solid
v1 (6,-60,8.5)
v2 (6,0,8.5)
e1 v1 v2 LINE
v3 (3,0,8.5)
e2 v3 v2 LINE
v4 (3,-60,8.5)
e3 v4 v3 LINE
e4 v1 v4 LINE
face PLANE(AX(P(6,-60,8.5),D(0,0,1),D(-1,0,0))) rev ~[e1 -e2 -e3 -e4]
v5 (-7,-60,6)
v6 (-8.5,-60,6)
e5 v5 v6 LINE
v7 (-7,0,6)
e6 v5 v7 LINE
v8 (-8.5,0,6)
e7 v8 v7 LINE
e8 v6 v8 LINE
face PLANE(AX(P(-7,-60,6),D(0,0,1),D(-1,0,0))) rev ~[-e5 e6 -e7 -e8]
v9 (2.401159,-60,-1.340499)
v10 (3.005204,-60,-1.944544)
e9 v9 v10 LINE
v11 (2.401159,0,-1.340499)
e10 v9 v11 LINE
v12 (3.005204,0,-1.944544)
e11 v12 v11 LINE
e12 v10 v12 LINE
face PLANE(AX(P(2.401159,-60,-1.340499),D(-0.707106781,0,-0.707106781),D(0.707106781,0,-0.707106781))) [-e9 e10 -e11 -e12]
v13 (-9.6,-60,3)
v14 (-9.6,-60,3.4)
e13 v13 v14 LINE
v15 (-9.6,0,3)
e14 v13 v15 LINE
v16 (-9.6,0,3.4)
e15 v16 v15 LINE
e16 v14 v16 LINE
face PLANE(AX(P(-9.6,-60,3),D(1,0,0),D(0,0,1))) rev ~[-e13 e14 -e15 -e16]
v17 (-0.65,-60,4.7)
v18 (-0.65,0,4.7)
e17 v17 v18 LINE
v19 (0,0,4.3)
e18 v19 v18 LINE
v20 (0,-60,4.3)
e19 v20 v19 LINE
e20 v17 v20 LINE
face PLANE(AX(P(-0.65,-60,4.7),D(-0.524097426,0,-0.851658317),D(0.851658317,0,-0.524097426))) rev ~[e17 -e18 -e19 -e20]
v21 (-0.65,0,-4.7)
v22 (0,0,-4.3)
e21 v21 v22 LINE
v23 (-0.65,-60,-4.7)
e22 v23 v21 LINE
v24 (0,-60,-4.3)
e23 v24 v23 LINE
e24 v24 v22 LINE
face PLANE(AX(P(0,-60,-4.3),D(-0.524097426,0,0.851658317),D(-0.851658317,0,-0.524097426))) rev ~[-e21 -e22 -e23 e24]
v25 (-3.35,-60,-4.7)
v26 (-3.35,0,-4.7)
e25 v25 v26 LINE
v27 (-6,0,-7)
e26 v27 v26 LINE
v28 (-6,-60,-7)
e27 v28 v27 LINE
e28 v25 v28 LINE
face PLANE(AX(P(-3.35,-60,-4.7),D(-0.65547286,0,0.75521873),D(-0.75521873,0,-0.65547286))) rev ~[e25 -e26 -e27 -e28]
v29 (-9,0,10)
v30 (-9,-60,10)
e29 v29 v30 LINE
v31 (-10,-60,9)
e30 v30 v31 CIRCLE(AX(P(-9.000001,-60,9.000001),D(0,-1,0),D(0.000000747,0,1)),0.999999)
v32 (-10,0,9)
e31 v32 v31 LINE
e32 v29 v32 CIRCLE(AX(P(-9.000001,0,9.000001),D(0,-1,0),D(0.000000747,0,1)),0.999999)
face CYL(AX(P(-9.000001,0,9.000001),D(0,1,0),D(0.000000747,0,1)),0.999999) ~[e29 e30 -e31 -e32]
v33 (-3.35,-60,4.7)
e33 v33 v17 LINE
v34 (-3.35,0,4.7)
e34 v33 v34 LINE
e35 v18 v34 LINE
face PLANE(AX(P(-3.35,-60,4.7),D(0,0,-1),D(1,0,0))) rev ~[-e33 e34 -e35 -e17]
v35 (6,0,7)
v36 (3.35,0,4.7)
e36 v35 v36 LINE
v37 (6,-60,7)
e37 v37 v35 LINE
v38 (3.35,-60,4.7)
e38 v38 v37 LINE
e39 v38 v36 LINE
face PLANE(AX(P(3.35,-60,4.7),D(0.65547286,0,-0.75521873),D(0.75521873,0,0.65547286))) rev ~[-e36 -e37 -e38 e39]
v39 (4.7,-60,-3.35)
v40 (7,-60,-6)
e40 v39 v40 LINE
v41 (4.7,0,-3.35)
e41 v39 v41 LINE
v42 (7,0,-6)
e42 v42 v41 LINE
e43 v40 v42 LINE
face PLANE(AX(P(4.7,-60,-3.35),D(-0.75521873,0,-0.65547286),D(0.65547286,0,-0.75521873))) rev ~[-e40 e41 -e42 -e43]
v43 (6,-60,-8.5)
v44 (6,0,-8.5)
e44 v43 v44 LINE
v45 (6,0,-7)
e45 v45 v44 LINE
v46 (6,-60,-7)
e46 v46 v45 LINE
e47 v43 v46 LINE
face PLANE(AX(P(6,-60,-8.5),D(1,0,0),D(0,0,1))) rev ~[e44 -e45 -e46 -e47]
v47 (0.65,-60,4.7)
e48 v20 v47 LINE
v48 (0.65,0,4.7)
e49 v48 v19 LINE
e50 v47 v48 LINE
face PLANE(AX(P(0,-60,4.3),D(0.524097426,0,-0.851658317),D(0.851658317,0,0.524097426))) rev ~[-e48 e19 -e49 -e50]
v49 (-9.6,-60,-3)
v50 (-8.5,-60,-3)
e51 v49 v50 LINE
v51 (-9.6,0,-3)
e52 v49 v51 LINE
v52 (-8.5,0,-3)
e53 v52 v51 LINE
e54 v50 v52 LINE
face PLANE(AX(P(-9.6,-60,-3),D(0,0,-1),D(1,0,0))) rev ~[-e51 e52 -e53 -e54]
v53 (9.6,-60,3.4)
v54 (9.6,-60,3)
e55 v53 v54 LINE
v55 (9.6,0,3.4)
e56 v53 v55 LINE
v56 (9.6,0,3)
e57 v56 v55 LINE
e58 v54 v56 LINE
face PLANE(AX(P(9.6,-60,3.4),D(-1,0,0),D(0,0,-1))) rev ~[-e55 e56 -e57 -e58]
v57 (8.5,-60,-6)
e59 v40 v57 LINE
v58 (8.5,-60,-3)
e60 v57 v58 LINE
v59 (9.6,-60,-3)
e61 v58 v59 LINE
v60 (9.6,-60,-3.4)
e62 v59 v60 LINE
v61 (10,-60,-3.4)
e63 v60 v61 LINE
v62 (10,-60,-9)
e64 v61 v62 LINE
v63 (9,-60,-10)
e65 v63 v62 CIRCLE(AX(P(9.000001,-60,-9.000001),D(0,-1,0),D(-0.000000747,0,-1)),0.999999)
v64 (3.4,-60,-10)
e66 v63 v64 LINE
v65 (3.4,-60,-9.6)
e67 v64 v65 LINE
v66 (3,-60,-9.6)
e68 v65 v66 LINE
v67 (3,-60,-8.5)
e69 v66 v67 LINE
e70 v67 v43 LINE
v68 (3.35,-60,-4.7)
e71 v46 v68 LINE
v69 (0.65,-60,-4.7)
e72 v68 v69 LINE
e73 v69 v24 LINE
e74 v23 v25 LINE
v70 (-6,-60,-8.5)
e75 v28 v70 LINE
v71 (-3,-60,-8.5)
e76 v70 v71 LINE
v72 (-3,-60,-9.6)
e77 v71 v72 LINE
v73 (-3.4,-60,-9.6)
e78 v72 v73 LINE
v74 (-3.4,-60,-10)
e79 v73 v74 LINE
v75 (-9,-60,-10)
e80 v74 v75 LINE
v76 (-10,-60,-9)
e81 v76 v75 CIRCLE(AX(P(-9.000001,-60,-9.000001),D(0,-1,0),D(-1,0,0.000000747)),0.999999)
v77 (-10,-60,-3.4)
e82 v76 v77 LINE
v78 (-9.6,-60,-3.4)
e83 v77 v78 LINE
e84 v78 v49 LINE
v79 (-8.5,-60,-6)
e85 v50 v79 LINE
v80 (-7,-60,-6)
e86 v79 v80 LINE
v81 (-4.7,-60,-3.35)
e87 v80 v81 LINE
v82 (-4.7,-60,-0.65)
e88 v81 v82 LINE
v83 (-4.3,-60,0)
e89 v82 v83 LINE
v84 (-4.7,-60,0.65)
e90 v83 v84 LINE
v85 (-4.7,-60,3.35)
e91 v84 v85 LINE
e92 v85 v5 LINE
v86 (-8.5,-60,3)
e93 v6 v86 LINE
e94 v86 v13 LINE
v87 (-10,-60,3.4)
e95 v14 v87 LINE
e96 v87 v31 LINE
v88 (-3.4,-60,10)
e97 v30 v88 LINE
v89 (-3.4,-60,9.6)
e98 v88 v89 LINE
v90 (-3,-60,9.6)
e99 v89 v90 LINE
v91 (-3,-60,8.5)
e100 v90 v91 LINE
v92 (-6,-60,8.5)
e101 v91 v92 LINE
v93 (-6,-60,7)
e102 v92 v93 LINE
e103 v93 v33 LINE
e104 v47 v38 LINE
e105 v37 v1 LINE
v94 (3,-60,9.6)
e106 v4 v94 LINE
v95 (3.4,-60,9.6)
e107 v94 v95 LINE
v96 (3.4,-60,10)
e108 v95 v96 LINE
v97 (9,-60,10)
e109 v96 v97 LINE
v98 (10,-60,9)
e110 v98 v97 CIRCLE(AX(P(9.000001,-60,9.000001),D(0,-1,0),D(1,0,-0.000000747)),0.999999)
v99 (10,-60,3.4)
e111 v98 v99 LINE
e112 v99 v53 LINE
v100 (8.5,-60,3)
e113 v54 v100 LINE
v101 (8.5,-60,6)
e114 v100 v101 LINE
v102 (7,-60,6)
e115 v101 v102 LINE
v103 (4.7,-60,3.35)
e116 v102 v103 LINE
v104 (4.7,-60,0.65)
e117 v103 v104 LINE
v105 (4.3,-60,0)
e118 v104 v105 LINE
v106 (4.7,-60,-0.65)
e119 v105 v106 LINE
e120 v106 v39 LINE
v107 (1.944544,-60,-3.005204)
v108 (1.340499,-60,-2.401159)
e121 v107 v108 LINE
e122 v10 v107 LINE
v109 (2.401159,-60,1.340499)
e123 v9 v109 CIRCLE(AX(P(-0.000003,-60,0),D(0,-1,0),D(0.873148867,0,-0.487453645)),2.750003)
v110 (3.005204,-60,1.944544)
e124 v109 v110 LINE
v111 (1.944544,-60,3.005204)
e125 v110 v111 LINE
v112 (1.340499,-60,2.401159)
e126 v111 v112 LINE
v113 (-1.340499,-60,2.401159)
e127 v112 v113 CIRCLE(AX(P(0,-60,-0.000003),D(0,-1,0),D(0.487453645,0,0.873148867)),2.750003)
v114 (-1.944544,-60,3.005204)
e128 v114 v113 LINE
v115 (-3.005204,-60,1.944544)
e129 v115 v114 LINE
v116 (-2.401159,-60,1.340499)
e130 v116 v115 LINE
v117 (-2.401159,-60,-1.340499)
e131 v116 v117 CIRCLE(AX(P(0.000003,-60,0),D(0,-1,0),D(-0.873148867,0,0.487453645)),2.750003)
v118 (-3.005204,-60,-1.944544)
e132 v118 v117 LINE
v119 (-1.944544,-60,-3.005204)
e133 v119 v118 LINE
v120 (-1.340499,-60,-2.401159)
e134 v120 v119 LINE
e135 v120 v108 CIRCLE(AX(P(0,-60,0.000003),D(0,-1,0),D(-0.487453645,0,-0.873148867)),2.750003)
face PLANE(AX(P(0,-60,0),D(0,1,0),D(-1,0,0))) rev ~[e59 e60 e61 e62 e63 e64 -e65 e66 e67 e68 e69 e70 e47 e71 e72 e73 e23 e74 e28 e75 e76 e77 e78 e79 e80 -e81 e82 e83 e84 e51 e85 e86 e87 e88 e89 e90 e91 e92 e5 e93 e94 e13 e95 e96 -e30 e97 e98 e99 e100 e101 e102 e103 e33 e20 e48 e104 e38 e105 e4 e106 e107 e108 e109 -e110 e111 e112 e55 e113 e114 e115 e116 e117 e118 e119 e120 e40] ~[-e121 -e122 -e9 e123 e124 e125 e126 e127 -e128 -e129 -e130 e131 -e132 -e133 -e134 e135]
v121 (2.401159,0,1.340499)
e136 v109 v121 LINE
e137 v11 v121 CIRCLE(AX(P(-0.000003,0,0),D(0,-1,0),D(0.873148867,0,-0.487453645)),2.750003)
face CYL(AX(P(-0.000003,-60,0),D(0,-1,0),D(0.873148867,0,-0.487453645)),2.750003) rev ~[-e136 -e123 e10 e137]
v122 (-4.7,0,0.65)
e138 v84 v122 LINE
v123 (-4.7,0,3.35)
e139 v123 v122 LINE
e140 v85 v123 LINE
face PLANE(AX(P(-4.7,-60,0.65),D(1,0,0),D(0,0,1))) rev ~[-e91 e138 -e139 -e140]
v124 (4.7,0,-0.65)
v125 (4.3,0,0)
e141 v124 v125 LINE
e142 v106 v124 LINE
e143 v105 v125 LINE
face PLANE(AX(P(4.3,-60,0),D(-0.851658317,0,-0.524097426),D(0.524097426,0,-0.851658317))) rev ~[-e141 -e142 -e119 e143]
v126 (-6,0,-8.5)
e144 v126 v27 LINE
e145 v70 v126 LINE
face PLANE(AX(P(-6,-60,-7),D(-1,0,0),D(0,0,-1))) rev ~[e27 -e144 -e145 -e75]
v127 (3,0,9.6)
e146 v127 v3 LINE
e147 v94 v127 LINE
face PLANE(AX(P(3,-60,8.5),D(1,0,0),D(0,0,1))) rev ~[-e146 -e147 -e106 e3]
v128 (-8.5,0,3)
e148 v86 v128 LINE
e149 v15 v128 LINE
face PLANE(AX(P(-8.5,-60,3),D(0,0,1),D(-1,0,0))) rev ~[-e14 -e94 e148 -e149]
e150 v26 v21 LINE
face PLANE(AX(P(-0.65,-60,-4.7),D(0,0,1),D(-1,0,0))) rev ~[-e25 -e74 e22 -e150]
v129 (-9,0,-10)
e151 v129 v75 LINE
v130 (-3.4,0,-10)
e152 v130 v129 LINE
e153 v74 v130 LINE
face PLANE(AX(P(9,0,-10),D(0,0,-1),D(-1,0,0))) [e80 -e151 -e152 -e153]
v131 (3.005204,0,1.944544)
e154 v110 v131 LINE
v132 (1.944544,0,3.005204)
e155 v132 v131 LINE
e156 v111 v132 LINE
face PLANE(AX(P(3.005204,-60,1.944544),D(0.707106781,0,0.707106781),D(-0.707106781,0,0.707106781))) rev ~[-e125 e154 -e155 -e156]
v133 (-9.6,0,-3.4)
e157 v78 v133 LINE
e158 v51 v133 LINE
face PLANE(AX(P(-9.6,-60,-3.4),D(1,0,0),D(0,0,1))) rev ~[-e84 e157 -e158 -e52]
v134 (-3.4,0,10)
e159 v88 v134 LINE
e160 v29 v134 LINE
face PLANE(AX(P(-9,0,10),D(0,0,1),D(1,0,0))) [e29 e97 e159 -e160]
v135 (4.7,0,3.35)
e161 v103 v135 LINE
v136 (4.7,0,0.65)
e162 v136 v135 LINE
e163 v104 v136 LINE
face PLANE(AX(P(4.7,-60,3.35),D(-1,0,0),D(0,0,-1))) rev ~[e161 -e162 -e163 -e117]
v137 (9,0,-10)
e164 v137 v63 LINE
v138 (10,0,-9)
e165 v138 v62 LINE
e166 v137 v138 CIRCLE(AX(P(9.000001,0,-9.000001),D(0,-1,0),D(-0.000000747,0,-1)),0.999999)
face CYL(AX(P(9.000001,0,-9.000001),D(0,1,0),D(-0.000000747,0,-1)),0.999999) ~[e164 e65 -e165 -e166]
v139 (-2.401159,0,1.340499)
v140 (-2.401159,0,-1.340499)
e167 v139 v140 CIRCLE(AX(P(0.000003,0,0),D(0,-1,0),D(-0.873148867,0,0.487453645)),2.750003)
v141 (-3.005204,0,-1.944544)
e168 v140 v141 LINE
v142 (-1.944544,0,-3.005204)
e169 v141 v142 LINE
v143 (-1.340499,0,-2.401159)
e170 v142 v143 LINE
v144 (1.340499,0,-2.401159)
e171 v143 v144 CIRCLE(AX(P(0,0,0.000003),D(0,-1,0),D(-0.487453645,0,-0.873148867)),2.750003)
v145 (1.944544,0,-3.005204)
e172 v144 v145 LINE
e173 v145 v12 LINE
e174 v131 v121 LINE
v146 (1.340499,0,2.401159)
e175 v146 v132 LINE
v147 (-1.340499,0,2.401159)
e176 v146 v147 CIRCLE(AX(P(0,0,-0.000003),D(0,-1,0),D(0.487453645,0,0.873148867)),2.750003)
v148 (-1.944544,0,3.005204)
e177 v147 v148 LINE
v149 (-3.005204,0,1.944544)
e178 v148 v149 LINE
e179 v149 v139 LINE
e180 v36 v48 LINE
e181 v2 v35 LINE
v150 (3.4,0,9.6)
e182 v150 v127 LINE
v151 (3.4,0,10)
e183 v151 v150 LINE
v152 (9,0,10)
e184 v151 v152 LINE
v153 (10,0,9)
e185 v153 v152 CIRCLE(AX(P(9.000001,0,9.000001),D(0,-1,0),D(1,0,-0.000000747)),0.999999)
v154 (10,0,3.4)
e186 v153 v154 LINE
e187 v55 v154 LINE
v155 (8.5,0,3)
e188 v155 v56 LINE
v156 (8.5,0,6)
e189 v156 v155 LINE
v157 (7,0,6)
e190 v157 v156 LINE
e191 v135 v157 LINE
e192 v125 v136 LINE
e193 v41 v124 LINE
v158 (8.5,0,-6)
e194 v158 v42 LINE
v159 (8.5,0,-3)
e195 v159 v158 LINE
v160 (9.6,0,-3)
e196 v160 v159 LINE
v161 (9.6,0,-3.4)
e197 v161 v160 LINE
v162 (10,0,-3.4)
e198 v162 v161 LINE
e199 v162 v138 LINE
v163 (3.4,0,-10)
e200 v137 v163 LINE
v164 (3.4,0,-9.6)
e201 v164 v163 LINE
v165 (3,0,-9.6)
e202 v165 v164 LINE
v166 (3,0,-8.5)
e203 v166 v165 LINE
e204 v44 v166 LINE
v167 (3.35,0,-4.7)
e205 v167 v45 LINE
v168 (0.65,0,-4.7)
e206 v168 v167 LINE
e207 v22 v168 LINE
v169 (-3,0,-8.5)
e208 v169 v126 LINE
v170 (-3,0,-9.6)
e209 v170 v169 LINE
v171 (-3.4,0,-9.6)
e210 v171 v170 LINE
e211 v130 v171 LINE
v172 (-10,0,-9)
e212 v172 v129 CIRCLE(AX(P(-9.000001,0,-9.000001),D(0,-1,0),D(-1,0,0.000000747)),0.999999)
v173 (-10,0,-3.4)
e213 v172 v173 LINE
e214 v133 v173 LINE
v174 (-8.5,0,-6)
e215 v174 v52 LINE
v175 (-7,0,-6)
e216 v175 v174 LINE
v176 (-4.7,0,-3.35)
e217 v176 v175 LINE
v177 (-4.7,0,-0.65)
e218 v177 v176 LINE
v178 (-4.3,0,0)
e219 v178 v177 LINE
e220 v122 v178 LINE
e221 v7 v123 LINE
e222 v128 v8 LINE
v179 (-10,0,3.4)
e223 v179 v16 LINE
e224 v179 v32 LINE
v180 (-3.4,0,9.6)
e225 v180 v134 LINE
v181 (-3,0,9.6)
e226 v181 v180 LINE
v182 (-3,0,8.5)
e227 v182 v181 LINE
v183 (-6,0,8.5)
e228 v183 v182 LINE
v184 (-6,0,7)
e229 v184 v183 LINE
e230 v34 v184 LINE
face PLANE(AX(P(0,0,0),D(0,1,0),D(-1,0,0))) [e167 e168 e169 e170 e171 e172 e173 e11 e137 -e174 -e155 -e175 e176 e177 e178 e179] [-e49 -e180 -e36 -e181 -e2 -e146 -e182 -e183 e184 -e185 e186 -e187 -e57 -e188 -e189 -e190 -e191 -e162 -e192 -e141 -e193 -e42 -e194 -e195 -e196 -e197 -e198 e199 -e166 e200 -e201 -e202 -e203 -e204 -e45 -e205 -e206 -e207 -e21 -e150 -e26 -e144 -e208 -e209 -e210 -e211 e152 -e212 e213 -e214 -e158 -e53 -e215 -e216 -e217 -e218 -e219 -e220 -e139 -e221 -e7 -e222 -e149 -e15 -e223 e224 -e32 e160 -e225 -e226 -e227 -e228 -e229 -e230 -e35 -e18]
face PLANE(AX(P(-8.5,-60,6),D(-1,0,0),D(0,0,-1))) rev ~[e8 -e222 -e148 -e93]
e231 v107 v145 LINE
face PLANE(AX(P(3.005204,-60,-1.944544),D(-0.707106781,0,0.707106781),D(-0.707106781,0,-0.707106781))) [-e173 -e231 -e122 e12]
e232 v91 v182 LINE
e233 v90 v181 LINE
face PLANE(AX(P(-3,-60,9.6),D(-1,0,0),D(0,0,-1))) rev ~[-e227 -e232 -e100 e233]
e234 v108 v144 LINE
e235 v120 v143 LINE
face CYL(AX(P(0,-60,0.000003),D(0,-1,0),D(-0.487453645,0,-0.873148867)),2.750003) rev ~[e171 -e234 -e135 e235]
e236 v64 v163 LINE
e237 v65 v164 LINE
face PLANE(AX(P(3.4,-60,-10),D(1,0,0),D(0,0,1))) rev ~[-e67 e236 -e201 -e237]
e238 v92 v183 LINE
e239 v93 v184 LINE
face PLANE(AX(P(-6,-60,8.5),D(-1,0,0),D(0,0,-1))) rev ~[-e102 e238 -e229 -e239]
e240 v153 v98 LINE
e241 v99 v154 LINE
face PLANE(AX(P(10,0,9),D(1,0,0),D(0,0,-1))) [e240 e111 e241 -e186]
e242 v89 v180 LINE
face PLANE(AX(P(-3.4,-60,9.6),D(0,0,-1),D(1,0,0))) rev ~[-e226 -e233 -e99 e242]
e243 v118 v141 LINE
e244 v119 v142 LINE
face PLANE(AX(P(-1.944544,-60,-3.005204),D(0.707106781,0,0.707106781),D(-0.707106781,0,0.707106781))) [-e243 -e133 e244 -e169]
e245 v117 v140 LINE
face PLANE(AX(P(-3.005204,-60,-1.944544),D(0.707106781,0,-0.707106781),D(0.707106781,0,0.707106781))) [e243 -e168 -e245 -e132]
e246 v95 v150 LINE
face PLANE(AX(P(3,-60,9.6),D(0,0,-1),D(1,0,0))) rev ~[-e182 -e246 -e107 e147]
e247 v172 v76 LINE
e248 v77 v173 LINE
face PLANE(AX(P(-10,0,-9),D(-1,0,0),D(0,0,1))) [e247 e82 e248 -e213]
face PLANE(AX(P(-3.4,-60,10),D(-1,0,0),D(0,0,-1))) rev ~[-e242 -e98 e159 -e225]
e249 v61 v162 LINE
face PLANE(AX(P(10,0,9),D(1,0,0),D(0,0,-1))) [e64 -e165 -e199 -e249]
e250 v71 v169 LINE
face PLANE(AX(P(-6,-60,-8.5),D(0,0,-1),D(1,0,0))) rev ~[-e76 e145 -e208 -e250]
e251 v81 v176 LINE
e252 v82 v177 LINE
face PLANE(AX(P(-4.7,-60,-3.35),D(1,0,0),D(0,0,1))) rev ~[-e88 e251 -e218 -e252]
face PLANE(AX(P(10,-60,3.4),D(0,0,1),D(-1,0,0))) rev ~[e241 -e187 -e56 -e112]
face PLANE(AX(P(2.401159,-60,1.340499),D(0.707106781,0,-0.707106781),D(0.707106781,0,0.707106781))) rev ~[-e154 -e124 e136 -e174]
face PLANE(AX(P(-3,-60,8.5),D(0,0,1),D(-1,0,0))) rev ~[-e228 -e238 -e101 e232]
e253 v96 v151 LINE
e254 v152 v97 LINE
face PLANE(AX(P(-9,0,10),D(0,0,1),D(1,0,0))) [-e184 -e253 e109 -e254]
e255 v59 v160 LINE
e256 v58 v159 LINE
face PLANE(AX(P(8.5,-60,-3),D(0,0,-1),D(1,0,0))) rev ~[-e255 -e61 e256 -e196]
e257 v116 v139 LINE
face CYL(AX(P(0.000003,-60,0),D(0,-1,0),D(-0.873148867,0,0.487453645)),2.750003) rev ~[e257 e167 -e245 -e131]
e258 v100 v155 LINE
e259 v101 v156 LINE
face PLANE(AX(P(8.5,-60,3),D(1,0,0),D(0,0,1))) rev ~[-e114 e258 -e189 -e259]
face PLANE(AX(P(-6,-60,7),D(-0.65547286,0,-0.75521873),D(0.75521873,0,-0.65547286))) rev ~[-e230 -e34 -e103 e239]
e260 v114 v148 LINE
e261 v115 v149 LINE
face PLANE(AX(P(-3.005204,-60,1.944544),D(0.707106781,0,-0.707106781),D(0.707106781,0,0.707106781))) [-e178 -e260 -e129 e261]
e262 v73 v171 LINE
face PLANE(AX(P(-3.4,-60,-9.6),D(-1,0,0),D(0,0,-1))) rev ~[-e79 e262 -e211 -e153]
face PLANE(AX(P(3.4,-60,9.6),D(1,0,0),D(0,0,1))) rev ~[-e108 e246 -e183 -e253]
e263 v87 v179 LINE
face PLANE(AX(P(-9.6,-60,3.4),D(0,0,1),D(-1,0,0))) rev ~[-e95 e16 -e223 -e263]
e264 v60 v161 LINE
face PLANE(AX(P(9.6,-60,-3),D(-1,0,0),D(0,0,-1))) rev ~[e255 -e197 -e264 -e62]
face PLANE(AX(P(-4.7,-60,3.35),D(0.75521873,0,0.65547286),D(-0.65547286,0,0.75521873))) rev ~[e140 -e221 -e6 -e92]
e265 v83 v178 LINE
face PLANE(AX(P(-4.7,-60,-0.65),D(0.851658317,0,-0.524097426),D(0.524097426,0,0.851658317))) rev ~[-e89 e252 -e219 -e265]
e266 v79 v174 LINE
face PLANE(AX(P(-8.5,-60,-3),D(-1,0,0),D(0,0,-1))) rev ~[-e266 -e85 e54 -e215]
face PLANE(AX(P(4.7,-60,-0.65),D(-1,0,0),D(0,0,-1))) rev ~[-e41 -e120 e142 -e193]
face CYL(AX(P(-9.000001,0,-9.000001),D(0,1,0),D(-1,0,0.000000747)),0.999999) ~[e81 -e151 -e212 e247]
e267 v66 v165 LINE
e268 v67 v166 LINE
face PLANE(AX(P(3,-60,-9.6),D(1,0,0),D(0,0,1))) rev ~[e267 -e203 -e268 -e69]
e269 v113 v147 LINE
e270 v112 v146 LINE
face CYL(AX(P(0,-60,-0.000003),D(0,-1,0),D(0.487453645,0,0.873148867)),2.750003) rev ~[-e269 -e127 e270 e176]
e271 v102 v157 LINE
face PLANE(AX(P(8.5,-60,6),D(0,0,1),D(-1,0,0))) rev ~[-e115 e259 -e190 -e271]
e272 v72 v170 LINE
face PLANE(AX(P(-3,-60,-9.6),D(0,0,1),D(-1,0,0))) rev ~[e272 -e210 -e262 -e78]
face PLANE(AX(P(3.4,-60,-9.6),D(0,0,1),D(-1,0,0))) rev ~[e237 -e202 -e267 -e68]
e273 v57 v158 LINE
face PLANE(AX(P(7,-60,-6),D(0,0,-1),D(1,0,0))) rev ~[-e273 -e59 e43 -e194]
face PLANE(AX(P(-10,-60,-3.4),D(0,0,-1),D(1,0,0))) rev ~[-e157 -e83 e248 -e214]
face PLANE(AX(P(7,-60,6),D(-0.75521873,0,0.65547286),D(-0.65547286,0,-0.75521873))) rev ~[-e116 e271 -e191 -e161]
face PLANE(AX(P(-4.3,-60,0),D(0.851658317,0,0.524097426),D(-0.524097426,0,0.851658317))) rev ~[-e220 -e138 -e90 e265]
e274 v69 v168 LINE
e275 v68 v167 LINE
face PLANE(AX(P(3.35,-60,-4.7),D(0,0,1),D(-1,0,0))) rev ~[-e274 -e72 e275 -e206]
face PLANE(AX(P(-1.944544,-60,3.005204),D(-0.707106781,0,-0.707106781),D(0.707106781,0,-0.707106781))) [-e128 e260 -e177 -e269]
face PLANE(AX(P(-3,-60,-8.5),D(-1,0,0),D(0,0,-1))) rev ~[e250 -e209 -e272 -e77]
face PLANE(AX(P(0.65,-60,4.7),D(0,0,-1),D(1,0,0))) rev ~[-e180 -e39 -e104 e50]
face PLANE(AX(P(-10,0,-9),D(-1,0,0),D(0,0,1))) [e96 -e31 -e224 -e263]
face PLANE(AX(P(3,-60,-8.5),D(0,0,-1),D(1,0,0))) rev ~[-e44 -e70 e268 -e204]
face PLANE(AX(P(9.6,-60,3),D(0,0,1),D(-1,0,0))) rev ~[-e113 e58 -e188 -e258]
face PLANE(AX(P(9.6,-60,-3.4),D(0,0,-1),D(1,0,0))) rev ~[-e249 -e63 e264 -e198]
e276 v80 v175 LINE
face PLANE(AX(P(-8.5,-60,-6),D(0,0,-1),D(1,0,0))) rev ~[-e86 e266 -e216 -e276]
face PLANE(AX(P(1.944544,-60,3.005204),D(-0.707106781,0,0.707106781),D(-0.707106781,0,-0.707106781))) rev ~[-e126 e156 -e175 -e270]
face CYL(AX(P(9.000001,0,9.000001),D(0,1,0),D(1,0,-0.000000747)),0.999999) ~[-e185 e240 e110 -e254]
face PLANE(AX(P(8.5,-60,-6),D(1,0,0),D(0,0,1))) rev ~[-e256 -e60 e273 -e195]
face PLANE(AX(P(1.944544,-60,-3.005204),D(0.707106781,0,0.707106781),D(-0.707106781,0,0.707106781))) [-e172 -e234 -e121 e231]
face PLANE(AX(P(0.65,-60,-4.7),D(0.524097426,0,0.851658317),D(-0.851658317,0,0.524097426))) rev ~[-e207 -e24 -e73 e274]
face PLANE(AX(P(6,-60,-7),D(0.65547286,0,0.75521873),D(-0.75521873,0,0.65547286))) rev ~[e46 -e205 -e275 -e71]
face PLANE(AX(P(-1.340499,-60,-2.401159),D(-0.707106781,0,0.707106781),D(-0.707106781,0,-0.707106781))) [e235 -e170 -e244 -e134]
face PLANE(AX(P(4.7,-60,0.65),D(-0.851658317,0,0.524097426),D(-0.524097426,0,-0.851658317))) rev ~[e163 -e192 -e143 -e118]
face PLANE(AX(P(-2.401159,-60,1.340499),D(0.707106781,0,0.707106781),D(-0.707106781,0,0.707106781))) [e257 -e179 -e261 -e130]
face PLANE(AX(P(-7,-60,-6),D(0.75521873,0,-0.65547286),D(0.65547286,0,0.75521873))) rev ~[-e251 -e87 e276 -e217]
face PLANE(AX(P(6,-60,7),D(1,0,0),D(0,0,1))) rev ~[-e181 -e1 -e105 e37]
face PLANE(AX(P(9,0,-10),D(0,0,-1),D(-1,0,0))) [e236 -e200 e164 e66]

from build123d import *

# Parameters (mm, degrees)
PAD_DEPTH          = 60
POCKET_DEPTH       = 380
POLARPATTERN_COUNT = 4
POCKET001_DEPTH    = 380


with BuildPart() as part:
    # Sketch → Pad (new body)
    with BuildSketch(Plane.XZ):
        with BuildLine():
            Line((-9, 10), (9, 10))
            ThreePointArc((10, 9), (9.707107, 9.707107), (9, 10))
            Line((10, 9), (10, -9))
            ThreePointArc((9, -10), (9.707107, -9.707107), (10, -9))
            Line((9, -10), (-9, -10))
            ThreePointArc((-10, -9), (-9.707107, -9.707107), (-9, -10))
            Line((-10, -9), (-10, 9))
            ThreePointArc((-9, 10), (-9.707107, 9.707107), (-10, 9))
        make_face()
    extrude(amount=PAD_DEPTH)

    # Sketch001 (on Face10 of Pad) → Pocket (cut)
    with BuildSketch(Plane.XZ.offset(60)):
        Polygon((-3.4, 10), (-3.4, 9.6), (-3, 9.6), (-3, 8.5), (-6, 8.5), (-6, 7), (-3.35, 4.7), (-0.65, 4.7), (0, 4.3), (0.65, 4.7), (3.35, 4.7), (6, 7), (6, 8.5), (3, 8.5), (3, 9.6), (3.4, 9.6), (3.4, 10), align=None)
    pocket = extrude(amount=-POCKET_DEPTH, mode=Mode.SUBTRACT)

    # PolarPattern: Pocket ×4 about axis
    polarpattern_axis = Axis((0, -60, 0), (0, -1, 0))
    for i in range(1, POLARPATTERN_COUNT):
        add(pocket.rotate(polarpattern_axis, i * 360 / POLARPATTERN_COUNT), mode=Mode.SUBTRACT)

    # Sketch002 (on Face4 of PolarPattern) → Pocket001 (cut)
    with BuildSketch(Plane.XZ.offset(60)):
        with BuildLine():
            ThreePointArc((1.340499, 2.401159), (0, 2.75), (-1.340499, 2.401159))
            Line((-1.944544, 3.005204), (-1.340499, 2.401159))
            Line((-3.005204, 1.944544), (-1.944544, 3.005204))
            Line((-2.401159, 1.340499), (-3.005204, 1.944544))
            ThreePointArc((-2.401159, 1.340499), (-2.75, 0), (-2.401159, -1.340499))
            Line((-3.005204, -1.944544), (-2.401159, -1.340499))
            Line((-1.944544, -3.005204), (-3.005204, -1.944544))
            Line((-1.340499, -2.401159), (-1.944544, -3.005204))
            ThreePointArc((-1.340499, -2.401159), (0, -2.75), (1.340499, -2.401159))
            Line((1.944544, -3.005204), (1.340499, -2.401159))
            Line((3.005204, -1.944544), (1.944544, -3.005204))
            Line((2.401159, -1.340499), (3.005204, -1.944544))
            ThreePointArc((2.401159, -1.340499), (2.75, 0), (2.401159, 1.340499))
            Line((2.401159, 1.340499), (3.005204, 1.944544))
            Line((3.005204, 1.944544), (1.944544, 3.005204))
            Line((1.944544, 3.005204), (1.340499, 2.401159))
        make_face()
    extrude(amount=-POCKET001_DEPTH, mode=Mode.SUBTRACT)


solid = part.part
